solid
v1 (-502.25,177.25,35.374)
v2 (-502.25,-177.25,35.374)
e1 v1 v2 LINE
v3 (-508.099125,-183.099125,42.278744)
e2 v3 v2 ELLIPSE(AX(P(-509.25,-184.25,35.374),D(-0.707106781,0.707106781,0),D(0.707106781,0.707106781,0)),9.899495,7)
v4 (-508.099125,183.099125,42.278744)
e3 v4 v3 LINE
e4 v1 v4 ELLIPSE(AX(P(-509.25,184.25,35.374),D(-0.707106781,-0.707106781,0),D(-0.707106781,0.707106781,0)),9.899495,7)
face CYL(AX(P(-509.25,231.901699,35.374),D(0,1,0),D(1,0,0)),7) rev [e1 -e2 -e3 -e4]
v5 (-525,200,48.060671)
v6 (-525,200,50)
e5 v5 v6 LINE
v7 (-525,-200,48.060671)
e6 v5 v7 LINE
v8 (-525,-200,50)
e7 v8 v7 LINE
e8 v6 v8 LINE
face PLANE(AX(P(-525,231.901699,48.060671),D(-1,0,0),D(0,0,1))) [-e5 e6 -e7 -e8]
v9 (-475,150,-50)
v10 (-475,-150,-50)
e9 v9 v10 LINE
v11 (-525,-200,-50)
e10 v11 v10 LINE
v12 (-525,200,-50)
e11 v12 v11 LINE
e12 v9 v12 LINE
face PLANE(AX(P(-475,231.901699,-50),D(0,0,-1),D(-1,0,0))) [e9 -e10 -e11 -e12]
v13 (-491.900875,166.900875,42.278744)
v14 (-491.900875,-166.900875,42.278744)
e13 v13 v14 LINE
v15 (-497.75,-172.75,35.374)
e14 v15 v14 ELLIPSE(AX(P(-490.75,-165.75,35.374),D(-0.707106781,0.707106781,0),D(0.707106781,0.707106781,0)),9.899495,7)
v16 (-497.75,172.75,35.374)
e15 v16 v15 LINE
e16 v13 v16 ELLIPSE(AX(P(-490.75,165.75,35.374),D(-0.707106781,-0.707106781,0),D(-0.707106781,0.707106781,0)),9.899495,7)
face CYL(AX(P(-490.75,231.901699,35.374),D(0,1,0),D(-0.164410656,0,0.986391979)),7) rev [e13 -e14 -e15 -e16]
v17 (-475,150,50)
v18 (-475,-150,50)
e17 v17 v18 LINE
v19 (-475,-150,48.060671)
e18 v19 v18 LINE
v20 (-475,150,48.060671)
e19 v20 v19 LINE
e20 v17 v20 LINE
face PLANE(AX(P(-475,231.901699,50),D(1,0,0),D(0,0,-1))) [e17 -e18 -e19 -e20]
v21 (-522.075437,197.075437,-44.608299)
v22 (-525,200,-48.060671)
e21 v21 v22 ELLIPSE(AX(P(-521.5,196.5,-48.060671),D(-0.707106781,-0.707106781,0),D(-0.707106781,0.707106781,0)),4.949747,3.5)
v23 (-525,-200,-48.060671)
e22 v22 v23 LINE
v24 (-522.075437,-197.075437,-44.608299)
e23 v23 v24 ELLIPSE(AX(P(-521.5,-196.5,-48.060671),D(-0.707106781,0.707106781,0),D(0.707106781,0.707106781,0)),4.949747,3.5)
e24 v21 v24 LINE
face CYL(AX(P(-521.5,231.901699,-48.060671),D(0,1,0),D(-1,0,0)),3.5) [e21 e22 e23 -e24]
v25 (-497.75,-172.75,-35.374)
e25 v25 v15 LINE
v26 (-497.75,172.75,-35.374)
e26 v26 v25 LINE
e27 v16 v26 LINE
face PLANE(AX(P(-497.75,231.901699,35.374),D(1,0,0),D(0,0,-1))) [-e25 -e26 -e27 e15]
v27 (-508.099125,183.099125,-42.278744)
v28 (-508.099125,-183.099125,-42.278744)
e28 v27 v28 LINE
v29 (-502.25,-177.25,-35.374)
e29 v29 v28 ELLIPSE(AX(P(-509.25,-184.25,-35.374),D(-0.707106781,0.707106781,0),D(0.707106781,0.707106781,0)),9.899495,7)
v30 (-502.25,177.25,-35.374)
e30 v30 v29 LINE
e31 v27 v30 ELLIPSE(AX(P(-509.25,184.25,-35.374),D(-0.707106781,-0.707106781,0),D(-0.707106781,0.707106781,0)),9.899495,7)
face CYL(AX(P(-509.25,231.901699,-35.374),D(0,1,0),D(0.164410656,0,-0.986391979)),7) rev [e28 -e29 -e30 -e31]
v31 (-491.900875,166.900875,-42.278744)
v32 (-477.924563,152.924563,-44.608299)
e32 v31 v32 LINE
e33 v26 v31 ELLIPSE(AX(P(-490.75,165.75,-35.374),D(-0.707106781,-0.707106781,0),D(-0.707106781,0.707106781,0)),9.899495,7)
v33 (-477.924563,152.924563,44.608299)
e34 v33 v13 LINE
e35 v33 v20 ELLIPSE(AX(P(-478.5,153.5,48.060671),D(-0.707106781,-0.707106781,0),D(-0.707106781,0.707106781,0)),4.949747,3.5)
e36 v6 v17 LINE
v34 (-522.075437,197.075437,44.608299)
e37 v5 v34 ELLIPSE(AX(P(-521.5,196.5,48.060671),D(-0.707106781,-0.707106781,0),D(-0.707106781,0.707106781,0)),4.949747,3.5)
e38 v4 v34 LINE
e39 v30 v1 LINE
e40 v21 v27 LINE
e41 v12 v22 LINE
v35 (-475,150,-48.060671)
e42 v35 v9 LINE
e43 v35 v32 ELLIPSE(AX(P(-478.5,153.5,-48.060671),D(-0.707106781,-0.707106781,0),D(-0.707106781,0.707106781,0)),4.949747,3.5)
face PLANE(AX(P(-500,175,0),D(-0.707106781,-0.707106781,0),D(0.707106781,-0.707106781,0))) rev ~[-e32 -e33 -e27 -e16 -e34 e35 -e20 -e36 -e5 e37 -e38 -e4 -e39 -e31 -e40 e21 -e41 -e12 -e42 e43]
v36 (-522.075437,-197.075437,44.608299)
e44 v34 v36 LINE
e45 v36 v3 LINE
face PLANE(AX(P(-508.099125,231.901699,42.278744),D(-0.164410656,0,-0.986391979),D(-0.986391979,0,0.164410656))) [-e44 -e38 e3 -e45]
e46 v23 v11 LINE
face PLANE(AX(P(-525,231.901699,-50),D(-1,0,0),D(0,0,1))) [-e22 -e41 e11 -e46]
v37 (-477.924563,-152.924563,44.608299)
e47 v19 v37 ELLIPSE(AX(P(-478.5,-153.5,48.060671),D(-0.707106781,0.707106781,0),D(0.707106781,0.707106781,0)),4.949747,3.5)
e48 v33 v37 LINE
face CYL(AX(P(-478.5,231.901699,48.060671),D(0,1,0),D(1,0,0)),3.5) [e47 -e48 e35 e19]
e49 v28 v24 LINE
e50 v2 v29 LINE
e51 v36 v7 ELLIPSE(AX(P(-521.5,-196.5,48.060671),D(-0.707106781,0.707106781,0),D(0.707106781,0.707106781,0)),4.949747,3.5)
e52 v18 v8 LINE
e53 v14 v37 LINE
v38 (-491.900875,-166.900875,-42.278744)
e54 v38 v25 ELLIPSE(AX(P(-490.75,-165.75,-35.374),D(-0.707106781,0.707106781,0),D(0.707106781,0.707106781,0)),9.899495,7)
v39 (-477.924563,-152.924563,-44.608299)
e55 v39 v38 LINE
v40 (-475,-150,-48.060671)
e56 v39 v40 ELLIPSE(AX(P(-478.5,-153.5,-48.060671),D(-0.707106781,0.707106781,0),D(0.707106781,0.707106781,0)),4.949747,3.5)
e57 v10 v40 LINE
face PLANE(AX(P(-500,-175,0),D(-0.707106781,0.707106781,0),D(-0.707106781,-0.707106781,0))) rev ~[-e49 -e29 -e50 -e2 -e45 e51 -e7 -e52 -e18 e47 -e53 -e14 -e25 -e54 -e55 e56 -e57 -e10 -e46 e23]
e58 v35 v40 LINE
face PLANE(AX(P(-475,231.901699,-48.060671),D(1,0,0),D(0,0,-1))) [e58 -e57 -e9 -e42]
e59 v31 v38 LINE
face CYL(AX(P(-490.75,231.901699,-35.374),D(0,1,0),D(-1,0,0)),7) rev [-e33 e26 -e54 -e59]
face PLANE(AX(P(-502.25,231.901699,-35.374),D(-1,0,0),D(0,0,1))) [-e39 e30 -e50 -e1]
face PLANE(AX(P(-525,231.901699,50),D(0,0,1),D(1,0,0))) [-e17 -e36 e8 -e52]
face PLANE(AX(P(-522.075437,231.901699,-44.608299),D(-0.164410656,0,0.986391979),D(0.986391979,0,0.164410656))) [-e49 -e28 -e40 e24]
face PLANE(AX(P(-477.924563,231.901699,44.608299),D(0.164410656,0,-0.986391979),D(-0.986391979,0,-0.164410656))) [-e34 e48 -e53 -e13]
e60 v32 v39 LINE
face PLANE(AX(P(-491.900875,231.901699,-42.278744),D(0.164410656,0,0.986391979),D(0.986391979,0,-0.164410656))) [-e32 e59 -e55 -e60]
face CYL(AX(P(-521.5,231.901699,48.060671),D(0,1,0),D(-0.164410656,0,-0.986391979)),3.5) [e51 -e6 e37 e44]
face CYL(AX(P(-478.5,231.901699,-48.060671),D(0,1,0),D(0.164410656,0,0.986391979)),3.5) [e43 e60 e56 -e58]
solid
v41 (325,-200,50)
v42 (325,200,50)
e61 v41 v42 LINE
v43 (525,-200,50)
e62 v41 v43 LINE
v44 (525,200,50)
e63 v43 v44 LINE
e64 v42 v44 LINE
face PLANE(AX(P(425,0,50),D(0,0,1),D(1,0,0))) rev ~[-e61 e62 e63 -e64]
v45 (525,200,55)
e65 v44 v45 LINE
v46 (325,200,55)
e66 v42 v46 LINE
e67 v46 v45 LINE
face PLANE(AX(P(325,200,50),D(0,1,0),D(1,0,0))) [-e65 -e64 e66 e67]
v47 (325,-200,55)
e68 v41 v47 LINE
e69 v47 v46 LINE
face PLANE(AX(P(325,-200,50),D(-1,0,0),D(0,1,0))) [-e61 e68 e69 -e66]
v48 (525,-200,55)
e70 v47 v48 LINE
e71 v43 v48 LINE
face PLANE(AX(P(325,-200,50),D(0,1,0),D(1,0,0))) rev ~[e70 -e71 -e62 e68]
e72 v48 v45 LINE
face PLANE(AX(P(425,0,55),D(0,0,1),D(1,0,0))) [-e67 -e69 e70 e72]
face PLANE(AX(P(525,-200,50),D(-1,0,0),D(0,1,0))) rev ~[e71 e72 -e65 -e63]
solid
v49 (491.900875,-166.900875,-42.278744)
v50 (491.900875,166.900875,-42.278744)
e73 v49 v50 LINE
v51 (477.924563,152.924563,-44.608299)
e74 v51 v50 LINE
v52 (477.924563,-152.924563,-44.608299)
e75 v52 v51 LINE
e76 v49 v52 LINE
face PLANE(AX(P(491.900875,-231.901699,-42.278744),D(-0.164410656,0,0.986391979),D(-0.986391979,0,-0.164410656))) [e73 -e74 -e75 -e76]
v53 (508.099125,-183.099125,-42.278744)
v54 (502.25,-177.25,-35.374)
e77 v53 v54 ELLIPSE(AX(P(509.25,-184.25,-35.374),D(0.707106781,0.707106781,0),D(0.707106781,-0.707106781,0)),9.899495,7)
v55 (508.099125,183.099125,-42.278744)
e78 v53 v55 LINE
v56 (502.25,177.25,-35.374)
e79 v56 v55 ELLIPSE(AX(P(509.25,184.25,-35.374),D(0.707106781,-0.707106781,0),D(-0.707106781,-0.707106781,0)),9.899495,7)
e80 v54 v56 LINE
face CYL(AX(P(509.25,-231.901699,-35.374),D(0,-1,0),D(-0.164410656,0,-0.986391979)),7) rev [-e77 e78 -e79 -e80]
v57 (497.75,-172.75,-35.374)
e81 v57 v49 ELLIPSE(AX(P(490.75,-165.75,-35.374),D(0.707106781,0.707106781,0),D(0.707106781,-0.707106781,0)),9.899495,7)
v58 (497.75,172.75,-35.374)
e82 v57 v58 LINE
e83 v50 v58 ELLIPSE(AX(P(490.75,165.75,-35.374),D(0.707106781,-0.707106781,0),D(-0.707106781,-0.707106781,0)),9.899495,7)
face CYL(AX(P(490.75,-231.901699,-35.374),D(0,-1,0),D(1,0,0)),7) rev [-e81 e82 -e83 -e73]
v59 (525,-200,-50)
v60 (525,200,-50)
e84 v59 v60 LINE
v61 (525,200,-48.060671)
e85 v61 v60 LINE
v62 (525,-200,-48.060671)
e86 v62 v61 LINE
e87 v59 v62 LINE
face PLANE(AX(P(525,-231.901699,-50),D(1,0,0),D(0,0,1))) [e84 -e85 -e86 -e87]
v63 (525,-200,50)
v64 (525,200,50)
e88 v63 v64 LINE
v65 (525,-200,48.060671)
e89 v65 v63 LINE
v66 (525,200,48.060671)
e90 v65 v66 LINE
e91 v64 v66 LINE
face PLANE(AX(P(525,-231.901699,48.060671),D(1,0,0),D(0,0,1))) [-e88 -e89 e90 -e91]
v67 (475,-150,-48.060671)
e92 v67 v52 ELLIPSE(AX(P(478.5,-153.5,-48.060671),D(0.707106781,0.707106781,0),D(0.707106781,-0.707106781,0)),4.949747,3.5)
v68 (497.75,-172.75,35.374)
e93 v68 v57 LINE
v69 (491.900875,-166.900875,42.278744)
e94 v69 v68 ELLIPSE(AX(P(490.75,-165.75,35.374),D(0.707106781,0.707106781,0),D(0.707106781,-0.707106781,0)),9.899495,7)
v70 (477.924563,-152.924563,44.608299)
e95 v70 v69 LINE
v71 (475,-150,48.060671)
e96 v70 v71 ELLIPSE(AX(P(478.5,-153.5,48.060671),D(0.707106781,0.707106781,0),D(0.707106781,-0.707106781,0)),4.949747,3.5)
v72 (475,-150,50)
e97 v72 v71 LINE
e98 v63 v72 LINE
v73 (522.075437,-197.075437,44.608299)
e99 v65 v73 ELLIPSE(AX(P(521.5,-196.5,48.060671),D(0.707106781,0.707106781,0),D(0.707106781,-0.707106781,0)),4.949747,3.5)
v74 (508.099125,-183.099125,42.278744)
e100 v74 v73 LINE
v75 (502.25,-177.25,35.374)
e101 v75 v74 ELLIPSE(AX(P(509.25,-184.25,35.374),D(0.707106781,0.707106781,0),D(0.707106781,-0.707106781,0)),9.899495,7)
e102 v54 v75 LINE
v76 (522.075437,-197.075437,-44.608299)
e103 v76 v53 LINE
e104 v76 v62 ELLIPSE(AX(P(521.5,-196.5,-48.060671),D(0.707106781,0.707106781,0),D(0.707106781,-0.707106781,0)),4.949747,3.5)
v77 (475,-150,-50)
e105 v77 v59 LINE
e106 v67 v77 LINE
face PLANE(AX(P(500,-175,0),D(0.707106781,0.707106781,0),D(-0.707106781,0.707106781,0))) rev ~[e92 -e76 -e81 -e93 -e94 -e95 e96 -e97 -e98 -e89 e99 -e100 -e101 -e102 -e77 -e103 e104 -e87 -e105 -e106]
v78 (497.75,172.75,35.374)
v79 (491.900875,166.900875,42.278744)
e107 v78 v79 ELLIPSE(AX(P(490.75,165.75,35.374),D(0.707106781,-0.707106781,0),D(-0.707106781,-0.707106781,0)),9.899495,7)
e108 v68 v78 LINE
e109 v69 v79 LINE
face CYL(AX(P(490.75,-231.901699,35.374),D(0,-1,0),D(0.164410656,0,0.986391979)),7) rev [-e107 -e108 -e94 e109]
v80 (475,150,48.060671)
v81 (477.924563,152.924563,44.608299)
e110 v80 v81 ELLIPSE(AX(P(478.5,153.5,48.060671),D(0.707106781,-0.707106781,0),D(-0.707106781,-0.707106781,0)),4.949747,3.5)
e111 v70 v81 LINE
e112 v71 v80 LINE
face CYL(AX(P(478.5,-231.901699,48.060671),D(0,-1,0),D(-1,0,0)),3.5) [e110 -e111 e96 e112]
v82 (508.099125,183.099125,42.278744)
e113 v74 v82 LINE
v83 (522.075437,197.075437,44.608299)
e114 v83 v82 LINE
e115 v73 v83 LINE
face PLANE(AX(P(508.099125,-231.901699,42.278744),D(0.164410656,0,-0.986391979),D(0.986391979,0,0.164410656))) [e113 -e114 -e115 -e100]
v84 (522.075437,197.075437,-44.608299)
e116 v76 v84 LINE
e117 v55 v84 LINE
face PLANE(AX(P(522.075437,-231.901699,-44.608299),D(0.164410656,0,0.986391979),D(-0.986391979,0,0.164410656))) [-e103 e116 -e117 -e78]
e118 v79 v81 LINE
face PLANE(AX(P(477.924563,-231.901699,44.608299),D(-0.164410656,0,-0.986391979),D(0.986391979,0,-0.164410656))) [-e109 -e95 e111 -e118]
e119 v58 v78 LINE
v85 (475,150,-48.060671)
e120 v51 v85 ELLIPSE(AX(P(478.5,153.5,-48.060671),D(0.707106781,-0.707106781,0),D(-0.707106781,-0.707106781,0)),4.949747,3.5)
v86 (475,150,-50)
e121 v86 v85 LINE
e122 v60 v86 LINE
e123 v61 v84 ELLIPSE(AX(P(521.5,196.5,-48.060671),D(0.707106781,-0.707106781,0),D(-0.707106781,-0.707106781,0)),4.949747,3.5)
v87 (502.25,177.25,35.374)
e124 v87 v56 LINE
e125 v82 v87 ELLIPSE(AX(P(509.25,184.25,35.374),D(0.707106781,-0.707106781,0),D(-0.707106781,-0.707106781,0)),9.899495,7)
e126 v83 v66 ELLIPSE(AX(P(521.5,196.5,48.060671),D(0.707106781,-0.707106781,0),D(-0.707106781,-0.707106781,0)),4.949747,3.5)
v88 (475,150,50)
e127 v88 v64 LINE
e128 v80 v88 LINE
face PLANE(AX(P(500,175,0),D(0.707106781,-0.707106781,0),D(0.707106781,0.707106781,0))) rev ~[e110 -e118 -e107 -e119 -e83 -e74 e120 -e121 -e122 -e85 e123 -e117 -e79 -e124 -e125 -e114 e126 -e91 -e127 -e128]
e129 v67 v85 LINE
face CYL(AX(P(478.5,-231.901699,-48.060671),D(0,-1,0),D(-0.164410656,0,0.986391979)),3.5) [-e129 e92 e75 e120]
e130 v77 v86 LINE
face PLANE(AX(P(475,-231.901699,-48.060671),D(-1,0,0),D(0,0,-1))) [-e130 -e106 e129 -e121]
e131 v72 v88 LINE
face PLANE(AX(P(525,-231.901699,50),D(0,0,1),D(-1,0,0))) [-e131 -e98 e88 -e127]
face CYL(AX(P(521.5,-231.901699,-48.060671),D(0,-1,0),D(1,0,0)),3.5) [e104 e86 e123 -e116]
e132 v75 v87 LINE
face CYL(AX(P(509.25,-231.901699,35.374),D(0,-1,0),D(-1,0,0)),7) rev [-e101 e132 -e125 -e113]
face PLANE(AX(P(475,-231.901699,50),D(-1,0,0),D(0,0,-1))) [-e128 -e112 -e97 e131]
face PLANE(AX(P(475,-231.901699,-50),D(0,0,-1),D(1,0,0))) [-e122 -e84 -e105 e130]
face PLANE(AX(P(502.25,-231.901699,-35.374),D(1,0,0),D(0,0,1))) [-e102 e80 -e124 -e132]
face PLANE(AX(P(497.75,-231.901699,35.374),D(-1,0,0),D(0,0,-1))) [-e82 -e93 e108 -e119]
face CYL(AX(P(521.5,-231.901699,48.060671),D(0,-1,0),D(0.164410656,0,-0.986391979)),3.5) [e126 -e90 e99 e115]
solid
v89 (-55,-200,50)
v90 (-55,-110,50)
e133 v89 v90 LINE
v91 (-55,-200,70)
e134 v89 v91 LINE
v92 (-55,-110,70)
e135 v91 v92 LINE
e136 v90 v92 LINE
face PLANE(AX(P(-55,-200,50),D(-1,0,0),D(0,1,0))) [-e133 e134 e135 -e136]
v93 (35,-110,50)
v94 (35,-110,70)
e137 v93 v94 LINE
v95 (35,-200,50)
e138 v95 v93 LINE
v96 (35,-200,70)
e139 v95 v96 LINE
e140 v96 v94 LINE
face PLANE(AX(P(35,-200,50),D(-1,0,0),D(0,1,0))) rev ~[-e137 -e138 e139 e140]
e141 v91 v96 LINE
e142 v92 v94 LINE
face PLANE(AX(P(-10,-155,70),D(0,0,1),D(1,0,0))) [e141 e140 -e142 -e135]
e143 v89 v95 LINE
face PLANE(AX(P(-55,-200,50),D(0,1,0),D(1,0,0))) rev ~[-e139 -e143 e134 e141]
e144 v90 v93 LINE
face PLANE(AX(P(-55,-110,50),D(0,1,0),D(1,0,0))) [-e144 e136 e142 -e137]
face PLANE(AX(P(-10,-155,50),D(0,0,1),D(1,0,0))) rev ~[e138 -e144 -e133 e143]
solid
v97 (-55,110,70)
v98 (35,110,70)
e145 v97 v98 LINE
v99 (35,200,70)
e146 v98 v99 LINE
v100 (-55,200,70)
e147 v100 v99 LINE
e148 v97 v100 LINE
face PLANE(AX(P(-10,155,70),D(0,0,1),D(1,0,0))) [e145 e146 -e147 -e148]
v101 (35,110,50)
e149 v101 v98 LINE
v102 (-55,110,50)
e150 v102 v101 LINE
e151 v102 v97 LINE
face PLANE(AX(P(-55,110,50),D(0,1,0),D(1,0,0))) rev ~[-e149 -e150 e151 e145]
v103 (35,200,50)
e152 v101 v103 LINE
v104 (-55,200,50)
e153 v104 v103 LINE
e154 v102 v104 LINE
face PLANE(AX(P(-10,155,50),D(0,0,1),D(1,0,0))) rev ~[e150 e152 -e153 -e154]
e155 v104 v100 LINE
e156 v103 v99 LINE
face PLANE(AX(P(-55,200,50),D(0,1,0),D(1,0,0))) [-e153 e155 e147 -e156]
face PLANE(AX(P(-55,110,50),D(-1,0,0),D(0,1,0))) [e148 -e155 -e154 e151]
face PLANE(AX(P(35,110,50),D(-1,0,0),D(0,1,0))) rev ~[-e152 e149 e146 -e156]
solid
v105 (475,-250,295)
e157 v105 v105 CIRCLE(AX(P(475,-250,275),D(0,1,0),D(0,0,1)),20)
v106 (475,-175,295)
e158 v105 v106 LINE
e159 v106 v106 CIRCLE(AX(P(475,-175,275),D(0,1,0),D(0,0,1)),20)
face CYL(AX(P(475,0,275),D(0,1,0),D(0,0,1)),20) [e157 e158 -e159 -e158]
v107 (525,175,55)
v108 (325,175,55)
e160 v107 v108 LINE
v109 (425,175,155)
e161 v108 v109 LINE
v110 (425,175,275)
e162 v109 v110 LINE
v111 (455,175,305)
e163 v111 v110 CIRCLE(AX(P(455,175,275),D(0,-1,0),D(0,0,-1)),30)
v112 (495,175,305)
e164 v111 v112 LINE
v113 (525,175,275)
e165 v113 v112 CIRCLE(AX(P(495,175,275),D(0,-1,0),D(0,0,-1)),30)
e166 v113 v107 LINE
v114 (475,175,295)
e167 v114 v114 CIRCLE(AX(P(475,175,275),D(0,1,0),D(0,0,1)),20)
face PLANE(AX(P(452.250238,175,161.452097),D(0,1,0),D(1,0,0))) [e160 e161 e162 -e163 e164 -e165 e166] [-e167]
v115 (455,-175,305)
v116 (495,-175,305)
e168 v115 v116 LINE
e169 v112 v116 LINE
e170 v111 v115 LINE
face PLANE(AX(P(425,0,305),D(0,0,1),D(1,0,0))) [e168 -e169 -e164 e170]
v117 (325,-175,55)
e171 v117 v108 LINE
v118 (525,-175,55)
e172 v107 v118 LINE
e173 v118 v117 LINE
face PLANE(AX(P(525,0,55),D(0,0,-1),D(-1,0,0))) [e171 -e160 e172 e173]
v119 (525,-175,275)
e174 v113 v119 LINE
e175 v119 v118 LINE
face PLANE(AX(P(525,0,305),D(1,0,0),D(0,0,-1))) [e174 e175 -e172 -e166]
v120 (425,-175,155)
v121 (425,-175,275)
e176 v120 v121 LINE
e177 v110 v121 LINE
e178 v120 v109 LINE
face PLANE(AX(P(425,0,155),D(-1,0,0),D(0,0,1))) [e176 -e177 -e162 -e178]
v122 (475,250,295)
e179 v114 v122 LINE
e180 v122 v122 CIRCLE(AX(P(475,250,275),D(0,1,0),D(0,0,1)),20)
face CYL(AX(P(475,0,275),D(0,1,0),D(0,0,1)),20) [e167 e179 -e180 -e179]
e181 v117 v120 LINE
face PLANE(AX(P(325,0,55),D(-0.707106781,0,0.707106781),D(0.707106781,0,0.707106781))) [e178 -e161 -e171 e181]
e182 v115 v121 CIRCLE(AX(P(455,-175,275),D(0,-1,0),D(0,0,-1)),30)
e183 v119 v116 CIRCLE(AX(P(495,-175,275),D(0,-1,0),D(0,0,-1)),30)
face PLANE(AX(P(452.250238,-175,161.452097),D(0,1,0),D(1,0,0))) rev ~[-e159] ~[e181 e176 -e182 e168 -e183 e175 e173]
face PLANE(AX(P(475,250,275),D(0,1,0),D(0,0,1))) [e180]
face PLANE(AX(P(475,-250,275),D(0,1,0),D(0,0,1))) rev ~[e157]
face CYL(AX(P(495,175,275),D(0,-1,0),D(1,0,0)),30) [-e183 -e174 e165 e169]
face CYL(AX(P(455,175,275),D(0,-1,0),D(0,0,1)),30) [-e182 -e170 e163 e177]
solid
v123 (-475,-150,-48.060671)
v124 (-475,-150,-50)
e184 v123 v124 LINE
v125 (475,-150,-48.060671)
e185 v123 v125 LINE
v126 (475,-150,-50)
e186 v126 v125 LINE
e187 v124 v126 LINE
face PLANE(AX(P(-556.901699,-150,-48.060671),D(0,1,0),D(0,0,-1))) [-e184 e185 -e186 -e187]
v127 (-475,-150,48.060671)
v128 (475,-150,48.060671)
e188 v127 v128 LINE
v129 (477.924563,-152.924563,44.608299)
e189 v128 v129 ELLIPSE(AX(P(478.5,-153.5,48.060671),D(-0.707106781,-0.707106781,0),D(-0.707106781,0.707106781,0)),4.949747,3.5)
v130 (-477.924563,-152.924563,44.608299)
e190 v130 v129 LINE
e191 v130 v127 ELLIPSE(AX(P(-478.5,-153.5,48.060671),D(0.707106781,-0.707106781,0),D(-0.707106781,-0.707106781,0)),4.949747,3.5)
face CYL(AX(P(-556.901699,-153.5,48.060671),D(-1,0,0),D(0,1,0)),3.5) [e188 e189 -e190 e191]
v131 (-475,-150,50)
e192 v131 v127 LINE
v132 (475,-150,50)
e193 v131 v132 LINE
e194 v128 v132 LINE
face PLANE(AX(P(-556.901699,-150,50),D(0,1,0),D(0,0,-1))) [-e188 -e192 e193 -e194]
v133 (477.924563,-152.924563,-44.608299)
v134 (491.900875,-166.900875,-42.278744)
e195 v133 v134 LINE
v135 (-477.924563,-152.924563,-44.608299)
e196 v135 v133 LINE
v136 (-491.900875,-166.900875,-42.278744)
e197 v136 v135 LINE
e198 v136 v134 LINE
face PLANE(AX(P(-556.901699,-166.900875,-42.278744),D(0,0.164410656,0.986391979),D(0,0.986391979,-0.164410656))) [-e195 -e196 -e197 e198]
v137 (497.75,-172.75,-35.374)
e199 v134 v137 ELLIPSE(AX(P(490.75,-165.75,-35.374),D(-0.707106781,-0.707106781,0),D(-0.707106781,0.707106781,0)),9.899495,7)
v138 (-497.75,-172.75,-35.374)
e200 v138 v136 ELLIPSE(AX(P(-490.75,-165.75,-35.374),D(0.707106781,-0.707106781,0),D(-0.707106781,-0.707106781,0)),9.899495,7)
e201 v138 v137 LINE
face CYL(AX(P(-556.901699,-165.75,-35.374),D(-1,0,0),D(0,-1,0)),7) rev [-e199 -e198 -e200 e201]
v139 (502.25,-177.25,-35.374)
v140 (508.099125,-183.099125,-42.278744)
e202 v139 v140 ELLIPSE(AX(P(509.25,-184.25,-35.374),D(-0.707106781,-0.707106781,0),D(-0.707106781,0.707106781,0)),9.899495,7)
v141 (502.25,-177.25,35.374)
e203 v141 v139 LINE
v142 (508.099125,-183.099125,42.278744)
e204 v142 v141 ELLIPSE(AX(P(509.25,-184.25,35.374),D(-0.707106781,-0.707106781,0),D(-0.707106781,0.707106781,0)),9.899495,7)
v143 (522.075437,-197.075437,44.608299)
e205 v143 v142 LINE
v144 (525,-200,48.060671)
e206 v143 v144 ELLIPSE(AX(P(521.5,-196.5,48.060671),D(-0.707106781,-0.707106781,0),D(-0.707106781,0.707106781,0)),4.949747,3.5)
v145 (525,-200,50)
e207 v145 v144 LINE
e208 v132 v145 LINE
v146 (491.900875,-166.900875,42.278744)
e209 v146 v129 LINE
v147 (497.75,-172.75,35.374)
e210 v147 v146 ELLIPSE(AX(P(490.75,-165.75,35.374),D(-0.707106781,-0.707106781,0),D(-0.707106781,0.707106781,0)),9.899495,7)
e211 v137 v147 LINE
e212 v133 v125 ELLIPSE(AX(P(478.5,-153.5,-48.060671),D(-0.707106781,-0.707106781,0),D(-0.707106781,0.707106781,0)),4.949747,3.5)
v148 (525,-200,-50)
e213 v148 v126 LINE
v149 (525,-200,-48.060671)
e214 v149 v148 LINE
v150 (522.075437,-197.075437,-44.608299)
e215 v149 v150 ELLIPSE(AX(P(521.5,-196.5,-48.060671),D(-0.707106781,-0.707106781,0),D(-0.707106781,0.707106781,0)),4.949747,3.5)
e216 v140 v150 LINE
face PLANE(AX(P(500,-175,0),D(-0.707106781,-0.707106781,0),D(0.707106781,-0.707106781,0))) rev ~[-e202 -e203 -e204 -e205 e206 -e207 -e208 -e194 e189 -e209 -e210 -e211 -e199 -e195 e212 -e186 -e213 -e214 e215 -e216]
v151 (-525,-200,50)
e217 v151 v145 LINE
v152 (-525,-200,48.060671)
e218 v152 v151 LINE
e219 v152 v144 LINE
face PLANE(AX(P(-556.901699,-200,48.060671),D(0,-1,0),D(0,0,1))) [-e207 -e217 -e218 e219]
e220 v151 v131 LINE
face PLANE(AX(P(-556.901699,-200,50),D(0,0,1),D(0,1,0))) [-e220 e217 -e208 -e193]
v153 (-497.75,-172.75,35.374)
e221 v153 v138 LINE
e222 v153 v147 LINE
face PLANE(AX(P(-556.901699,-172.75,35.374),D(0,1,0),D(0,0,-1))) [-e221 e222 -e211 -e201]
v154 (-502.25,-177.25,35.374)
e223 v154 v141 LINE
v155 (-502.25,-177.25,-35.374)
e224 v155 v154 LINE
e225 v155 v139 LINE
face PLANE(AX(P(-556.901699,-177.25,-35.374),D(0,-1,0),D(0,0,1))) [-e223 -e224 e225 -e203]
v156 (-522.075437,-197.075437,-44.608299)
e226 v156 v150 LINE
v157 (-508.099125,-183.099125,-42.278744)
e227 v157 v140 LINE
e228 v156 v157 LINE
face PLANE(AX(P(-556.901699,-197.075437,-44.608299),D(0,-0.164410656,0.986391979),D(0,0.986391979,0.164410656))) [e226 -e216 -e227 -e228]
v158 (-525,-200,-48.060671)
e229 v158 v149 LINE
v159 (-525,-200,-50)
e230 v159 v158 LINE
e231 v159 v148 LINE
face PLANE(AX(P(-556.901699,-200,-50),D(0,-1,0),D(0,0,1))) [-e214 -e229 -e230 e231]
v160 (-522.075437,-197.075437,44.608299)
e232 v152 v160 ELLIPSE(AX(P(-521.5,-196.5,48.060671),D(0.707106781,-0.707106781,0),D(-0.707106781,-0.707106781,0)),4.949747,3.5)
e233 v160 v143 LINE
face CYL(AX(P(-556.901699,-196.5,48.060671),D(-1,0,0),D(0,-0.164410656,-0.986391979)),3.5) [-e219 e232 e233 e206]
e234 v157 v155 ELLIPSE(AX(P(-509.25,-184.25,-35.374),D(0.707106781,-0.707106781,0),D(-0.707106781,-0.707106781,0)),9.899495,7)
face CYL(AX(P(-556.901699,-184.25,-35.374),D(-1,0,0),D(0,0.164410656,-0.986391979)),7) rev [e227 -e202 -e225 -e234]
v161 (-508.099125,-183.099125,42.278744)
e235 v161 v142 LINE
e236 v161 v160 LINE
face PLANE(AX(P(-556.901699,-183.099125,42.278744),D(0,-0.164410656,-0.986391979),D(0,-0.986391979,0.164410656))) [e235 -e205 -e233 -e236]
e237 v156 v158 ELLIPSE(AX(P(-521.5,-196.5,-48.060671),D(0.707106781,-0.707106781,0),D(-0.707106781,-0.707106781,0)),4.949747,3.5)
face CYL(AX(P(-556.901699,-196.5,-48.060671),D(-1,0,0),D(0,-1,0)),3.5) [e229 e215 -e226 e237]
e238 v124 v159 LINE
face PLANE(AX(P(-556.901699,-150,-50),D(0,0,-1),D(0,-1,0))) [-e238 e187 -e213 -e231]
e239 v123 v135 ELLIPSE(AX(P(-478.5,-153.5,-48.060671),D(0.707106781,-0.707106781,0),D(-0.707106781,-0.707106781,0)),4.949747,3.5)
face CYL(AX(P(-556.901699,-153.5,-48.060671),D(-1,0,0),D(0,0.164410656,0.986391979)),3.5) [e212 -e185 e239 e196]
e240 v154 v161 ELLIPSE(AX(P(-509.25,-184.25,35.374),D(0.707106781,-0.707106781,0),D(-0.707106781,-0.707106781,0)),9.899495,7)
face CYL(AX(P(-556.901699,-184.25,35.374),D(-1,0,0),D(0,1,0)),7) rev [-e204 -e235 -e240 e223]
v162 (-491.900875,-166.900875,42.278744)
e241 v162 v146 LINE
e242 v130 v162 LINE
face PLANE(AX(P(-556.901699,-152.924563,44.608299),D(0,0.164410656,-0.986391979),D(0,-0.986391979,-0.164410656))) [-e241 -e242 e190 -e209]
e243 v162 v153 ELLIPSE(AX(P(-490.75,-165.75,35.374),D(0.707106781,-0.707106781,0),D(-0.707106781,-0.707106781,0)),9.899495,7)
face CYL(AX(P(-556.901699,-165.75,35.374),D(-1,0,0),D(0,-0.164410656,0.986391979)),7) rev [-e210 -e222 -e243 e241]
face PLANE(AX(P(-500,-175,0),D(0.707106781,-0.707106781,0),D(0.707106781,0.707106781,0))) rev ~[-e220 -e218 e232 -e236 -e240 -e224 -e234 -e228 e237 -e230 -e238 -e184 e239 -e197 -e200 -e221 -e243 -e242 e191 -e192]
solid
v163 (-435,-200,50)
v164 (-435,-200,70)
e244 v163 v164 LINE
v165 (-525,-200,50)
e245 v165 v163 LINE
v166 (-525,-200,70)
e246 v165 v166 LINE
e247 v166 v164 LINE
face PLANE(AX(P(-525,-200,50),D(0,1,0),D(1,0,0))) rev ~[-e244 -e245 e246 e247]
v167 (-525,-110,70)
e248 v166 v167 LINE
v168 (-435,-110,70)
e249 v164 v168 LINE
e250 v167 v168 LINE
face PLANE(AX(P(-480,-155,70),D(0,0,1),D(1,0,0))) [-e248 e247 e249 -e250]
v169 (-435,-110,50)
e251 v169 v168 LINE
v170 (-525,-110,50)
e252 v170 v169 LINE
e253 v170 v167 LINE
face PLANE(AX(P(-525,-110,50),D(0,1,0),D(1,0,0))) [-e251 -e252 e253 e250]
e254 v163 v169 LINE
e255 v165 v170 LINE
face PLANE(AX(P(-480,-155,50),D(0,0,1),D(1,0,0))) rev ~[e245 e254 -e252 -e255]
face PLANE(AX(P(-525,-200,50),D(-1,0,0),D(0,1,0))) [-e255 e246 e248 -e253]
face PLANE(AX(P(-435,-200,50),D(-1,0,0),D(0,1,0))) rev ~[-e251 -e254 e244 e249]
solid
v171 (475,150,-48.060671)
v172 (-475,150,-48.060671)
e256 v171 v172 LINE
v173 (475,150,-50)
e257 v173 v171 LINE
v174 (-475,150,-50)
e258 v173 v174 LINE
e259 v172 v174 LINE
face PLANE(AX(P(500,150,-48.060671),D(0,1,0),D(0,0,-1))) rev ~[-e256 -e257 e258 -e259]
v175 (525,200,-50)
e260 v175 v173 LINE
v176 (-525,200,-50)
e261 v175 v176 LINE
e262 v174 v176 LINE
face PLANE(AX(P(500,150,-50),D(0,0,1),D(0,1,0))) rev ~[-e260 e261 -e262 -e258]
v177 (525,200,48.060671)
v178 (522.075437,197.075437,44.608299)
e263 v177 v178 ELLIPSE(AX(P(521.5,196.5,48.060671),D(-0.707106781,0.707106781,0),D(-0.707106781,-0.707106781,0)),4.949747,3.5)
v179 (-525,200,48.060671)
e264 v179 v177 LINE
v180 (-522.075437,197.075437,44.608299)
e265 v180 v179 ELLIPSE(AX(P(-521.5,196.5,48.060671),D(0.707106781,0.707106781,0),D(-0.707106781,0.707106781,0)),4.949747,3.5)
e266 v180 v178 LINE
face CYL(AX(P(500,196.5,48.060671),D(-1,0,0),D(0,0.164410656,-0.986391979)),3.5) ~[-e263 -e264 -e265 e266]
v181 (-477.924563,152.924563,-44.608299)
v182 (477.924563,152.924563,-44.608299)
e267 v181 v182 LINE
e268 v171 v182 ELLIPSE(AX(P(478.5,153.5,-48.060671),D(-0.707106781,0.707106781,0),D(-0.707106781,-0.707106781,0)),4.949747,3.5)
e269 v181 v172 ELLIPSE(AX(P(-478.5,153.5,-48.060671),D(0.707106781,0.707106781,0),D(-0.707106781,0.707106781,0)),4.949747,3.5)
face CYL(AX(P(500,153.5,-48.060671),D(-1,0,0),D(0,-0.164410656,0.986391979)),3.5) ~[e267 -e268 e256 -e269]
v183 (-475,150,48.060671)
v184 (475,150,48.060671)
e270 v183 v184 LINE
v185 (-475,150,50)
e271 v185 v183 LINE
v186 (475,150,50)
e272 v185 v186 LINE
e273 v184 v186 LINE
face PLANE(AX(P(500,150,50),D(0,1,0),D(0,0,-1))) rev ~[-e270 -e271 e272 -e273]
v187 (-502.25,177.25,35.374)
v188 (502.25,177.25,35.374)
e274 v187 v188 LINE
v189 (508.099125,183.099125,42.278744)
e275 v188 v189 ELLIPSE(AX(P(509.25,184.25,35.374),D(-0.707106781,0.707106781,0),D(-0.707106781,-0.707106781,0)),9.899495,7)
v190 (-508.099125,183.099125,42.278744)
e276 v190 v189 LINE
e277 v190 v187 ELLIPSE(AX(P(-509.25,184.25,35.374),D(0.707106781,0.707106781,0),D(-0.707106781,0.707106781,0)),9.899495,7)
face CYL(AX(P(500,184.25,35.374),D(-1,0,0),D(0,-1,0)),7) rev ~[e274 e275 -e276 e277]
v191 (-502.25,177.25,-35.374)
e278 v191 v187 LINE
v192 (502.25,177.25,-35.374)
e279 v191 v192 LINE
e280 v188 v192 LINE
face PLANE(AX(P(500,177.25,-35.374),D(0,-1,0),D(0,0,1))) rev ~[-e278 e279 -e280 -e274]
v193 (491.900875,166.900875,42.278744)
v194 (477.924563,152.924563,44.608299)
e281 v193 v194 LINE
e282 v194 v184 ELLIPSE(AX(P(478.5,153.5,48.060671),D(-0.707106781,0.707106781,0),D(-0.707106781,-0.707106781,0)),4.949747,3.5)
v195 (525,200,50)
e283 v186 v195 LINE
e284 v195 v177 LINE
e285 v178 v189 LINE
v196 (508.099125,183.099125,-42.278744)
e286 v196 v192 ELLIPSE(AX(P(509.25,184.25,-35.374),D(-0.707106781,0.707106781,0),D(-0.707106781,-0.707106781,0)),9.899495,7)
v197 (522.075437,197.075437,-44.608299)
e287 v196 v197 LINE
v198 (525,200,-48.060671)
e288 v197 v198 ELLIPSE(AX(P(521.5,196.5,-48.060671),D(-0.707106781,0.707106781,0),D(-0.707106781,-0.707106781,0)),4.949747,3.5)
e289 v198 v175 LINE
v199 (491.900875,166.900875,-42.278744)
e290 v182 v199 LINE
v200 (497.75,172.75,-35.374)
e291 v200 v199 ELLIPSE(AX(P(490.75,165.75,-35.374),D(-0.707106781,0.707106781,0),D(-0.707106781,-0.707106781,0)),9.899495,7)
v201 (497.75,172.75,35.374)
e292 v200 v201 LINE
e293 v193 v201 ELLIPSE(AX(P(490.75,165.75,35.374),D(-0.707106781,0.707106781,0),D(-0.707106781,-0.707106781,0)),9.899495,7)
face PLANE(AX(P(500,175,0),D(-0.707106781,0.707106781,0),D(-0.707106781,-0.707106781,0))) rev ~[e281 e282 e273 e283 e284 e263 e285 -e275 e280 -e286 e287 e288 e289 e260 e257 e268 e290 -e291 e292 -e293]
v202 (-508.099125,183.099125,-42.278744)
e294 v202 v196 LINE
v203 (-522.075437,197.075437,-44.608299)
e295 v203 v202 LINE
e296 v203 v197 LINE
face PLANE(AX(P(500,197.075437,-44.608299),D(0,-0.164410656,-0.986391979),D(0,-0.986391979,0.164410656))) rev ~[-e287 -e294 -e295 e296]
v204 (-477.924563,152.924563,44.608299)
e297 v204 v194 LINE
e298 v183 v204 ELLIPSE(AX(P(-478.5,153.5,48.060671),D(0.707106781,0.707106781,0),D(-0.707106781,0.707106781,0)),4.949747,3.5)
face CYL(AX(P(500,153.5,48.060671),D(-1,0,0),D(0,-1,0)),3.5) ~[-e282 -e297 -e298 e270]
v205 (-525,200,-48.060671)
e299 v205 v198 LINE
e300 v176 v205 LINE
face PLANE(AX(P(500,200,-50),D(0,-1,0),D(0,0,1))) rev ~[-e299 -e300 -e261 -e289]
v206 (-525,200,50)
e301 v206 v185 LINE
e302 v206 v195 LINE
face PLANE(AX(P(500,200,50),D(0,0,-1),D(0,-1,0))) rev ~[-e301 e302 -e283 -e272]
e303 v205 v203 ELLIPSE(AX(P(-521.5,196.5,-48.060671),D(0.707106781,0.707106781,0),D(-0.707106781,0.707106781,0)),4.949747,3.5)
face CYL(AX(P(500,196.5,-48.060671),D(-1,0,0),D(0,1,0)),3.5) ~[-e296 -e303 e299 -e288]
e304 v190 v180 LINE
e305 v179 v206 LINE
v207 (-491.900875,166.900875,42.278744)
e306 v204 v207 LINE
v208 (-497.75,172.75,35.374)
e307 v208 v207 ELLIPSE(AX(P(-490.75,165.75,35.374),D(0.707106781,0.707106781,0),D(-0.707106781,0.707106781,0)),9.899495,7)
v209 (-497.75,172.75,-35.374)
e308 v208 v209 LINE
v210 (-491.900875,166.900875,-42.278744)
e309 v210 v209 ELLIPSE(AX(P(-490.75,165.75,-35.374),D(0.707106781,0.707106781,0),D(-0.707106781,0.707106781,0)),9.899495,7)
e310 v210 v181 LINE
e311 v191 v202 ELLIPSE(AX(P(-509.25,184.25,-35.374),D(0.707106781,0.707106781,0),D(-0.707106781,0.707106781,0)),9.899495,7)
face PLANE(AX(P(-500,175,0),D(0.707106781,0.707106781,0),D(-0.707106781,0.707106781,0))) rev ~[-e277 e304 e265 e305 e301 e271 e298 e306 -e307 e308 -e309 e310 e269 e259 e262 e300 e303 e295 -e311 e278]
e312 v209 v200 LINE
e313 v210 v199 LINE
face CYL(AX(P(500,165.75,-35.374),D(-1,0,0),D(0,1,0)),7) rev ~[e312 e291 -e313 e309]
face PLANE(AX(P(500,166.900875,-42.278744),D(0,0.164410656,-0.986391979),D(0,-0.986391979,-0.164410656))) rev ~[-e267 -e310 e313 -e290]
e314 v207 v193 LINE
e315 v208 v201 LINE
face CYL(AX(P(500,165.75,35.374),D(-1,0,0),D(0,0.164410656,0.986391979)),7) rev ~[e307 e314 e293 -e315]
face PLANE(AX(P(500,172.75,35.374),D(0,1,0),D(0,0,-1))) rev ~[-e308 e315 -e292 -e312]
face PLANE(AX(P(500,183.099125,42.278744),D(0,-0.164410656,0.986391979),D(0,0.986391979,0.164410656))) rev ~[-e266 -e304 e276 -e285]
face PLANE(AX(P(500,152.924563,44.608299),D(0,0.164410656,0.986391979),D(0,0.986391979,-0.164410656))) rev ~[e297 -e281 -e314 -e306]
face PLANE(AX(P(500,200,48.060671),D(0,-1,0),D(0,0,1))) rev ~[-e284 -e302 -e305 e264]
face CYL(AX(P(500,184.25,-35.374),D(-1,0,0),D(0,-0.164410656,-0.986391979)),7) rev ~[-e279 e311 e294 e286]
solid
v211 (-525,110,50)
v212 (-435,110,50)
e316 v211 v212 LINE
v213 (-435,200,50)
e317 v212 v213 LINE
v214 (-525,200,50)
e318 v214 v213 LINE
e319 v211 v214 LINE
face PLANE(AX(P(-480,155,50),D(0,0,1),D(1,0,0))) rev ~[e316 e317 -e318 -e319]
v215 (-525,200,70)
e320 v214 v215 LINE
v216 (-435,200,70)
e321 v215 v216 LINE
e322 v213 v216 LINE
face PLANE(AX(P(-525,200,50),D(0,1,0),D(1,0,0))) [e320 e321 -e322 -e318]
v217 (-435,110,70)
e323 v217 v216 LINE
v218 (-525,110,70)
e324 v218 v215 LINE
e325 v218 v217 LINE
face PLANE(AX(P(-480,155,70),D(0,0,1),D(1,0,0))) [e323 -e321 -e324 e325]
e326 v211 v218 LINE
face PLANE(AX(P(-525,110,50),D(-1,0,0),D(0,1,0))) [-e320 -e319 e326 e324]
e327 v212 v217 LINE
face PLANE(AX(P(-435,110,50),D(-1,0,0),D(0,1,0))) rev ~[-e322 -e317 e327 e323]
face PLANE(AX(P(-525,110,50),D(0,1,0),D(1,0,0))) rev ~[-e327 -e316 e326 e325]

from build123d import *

# Parameters (mm, degrees)
SB_BEAM_CONFIGURED_100_X_8_1_DEPTH      = 1056.901699437
SB_BEAM_CONFIGURED_100_X_8_1_DEPTH_BACK = 56.901699437
SB_BEAM_CONFIGURED_100_X_8_1_2_DEPTH    = 463.803398875
SB_BEAM_CONFIGURED_100_X_8_1_3_DEPTH    = 1113.803398875
SB_BEAM_CONFIGURED_100_X_8_1_4_DEPTH    = 463.803398875
SKETCH17_W                              = 90
SKETCH17_H                              = 90
BOSS_EXTRUDE1_DEPTH                     = 20
BOSS_EXTRUDE1_2_DEPTH                   = 20
BOSS_EXTRUDE1_3_DEPTH                   = 20
BOSS_EXTRUDE1_4_DEPTH                   = 20
SKETCH18_W                              = 200
SKETCH18_H                              = 400
BOSS_EXTRUDE2_DEPTH                     = 5
BOSS_EXTRUDE3_DEPTH                     = 175
SKETCH21_R                              = 20
BOSS_EXTRUDE4_DEPTH                     = 250
FILLET1_R                               = 30


with BuildPart() as part:
    # Sketch16 → Sb beam - configured 100 X 8(1) (new, two sides)
    with BuildSketch(Plane(origin=(500, 175, 0), x_dir=(0, -1, 0), z_dir=(-1, 0, 0))) as sb_beam_configured_100_x_8_1_sk:
        with BuildLine():
            Line((-25, -50), (-25, -48.060671023))
            ThreePointArc((-25, -48.060671023), (-24.17058332, -45.798374682), (-22.075437296, -44.608299096))
            Line((-22.075437296, -44.608299096), (-8.099125408, -42.278743853))
            ThreePointArc((-8.099125408, -42.278743853), (-3.90883336, -39.898592681), (-2.25, -35.374))
            Line((-2.25, -35.374), (-2.25, 35.374))
            ThreePointArc((-2.25, 35.374), (-3.90883336, 39.898592681), (-8.099125408, 42.278743853))
            Line((-8.099125408, 42.278743853), (-22.075437296, 44.608299096))
            ThreePointArc((-22.075437296, 44.608299096), (-24.17058332, 45.798374682), (-25, 48.060671023))
            Line((-25, 48.060671023), (-25, 50))
            Line((-25, 50), (25, 50))
            Line((25, 50), (25, 48.060671023))
            ThreePointArc((25, 48.060671023), (24.17058332, 45.798374682), (22.075437296, 44.608299096))
            Line((22.075437296, 44.608299096), (8.099125408, 42.278743853))
            ThreePointArc((8.099125408, 42.278743853), (3.90883336, 39.898592681), (2.25, 35.374))
            Line((2.25, 35.374), (2.25, -35.374))
            ThreePointArc((2.25, -35.374), (3.90883336, -39.898592681), (8.099125408, -42.278743853))
            Line((8.099125408, -42.278743853), (22.075437296, -44.608299096))
            ThreePointArc((22.075437296, -44.608299096), (24.17058332, -45.798374682), (25, -48.060671023))
            Line((25, -48.060671023), (25, -50))
            Line((25, -50), (-25, -50))
        make_face()
    extrude(amount=SB_BEAM_CONFIGURED_100_X_8_1_DEPTH)
    extrude(sb_beam_configured_100_x_8_1_sk.sketch, amount=-SB_BEAM_CONFIGURED_100_X_8_1_DEPTH_BACK)

    # Sb beam - configured 100 X 8(1) mitre 1
    split(bisect_by=Plane(origin=(500, 175, 0), x_dir=(-0.707106781, -0.707106781, 0), z_dir=(-0.707106781, 0.707106781, 0)), keep=Keep.TOP)

    # Sb beam - configured 100 X 8(1) mitre 2
    split(bisect_by=Plane(origin=(-500, 175, 0), x_dir=(-0.707106781, 0.707106781, 0), z_dir=(0.707106781, 0.707106781, 0)), keep=Keep.TOP)


with BuildPart() as body_2:
    # Sketch16 on segment 2 (carried to segment 2) → Sb beam - configured 100 X 8_1 2 (new body)
    with BuildSketch(Plane(origin=(-500, 231.901699437, 0), x_dir=(1, 0, 0), z_dir=(0, -1, 0))):
        with BuildLine():
            Line((-25, -50), (-25, -48.060671023))
            ThreePointArc((-25, -48.060671023), (-24.17058332, -45.798374682), (-22.075437296, -44.608299096))
            Line((-22.075437296, -44.608299096), (-8.099125408, -42.278743853))
            ThreePointArc((-8.099125408, -42.278743853), (-3.90883336, -39.898592681), (-2.25, -35.374))
            Line((-2.25, -35.374), (-2.25, 35.374))
            ThreePointArc((-2.25, 35.374), (-3.90883336, 39.898592681), (-8.099125408, 42.278743853))
            Line((-8.099125408, 42.278743853), (-22.075437296, 44.608299096))
            ThreePointArc((-22.075437296, 44.608299096), (-24.17058332, 45.798374682), (-25, 48.060671023))
            Line((-25, 48.060671023), (-25, 50))
            Line((-25, 50), (25, 50))
            Line((25, 50), (25, 48.060671023))
            ThreePointArc((25, 48.060671023), (24.17058332, 45.798374682), (22.075437296, 44.608299096))
            Line((22.075437296, 44.608299096), (8.099125408, 42.278743853))
            ThreePointArc((8.099125408, 42.278743853), (3.90883336, 39.898592681), (2.25, 35.374))
            Line((2.25, 35.374), (2.25, -35.374))
            ThreePointArc((2.25, -35.374), (3.90883336, -39.898592681), (8.099125408, -42.278743853))
            Line((8.099125408, -42.278743853), (22.075437296, -44.608299096))
            ThreePointArc((22.075437296, -44.608299096), (24.17058332, -45.798374682), (25, -48.060671023))
            Line((25, -48.060671023), (25, -50))
            Line((25, -50), (-25, -50))
        make_face()
    extrude(amount=SB_BEAM_CONFIGURED_100_X_8_1_2_DEPTH)

    # Sb beam - configured 100 X 8_1 2 mitre 1
    split(bisect_by=Plane(origin=(-500, 175, 0), x_dir=(0.707106781, -0.707106781, 0), z_dir=(-0.707106781, -0.707106781, 0)), keep=Keep.TOP)

    # Sb beam - configured 100 X 8_1 2 mitre 2
    split(bisect_by=Plane(origin=(-500, -175, 0), x_dir=(-0.707106781, -0.707106781, 0), z_dir=(-0.707106781, 0.707106781, 0)), keep=Keep.TOP)


with BuildPart() as body_3:
    # Sketch16 on segment 3 (carried to segment 3) → Sb beam - configured 100 X 8_1 3 (new body)
    with BuildSketch(Plane(origin=(-556.901699437, -175, 0), x_dir=(0, 1, 0), z_dir=(1, 0, 0))):
        with BuildLine():
            Line((-25, -50), (-25, -48.060671023))
            ThreePointArc((-25, -48.060671023), (-24.17058332, -45.798374682), (-22.075437296, -44.608299096))
            Line((-22.075437296, -44.608299096), (-8.099125408, -42.278743853))
            ThreePointArc((-8.099125408, -42.278743853), (-3.90883336, -39.898592681), (-2.25, -35.374))
            Line((-2.25, -35.374), (-2.25, 35.374))
            ThreePointArc((-2.25, 35.374), (-3.90883336, 39.898592681), (-8.099125408, 42.278743853))
            Line((-8.099125408, 42.278743853), (-22.075437296, 44.608299096))
            ThreePointArc((-22.075437296, 44.608299096), (-24.17058332, 45.798374682), (-25, 48.060671023))
            Line((-25, 48.060671023), (-25, 50))
            Line((-25, 50), (25, 50))
            Line((25, 50), (25, 48.060671023))
            ThreePointArc((25, 48.060671023), (24.17058332, 45.798374682), (22.075437296, 44.608299096))
            Line((22.075437296, 44.608299096), (8.099125408, 42.278743853))
            ThreePointArc((8.099125408, 42.278743853), (3.90883336, 39.898592681), (2.25, 35.374))
            Line((2.25, 35.374), (2.25, -35.374))
            ThreePointArc((2.25, -35.374), (3.90883336, -39.898592681), (8.099125408, -42.278743853))
            Line((8.099125408, -42.278743853), (22.075437296, -44.608299096))
            ThreePointArc((22.075437296, -44.608299096), (24.17058332, -45.798374682), (25, -48.060671023))
            Line((25, -48.060671023), (25, -50))
            Line((25, -50), (-25, -50))
        make_face()
    extrude(amount=SB_BEAM_CONFIGURED_100_X_8_1_3_DEPTH)

    # Sb beam - configured 100 X 8_1 3 mitre 1
    split(bisect_by=Plane(origin=(500, -175, 0), x_dir=(0.707106781, -0.707106781, 0), z_dir=(-0.707106781, -0.707106781, 0)), keep=Keep.TOP)

    # Sb beam - configured 100 X 8_1 3 mitre 2
    split(bisect_by=Plane(origin=(-500, -175, 0), x_dir=(0.707106781, 0.707106781, 0), z_dir=(0.707106781, -0.707106781, 0)), keep=Keep.TOP)


with BuildPart() as body_4:
    # Sketch16 on segment 4 (carried to segment 4) → Sb beam - configured 100 X 8_1 4 (new body)
    with BuildSketch(Plane(origin=(500, -231.901699437, 0), x_dir=(-1, 0, 0), z_dir=(0, 1, 0))):
        with BuildLine():
            Line((-25, -50), (-25, -48.060671023))
            ThreePointArc((-25, -48.060671023), (-24.17058332, -45.798374682), (-22.075437296, -44.608299096))
            Line((-22.075437296, -44.608299096), (-8.099125408, -42.278743853))
            ThreePointArc((-8.099125408, -42.278743853), (-3.90883336, -39.898592681), (-2.25, -35.374))
            Line((-2.25, -35.374), (-2.25, 35.374))
            ThreePointArc((-2.25, 35.374), (-3.90883336, 39.898592681), (-8.099125408, 42.278743853))
            Line((-8.099125408, 42.278743853), (-22.075437296, 44.608299096))
            ThreePointArc((-22.075437296, 44.608299096), (-24.17058332, 45.798374682), (-25, 48.060671023))
            Line((-25, 48.060671023), (-25, 50))
            Line((-25, 50), (25, 50))
            Line((25, 50), (25, 48.060671023))
            ThreePointArc((25, 48.060671023), (24.17058332, 45.798374682), (22.075437296, 44.608299096))
            Line((22.075437296, 44.608299096), (8.099125408, 42.278743853))
            ThreePointArc((8.099125408, 42.278743853), (3.90883336, 39.898592681), (2.25, 35.374))
            Line((2.25, 35.374), (2.25, -35.374))
            ThreePointArc((2.25, -35.374), (3.90883336, -39.898592681), (8.099125408, -42.278743853))
            Line((8.099125408, -42.278743853), (22.075437296, -44.608299096))
            ThreePointArc((22.075437296, -44.608299096), (24.17058332, -45.798374682), (25, -48.060671023))
            Line((25, -48.060671023), (25, -50))
            Line((25, -50), (-25, -50))
        make_face()
    extrude(amount=SB_BEAM_CONFIGURED_100_X_8_1_4_DEPTH)

    # Sb beam - configured 100 X 8_1 4 mitre 1
    split(bisect_by=Plane(origin=(500, 175, 0), x_dir=(0.707106781, 0.707106781, 0), z_dir=(0.707106781, -0.707106781, 0)), keep=Keep.TOP)

    # Sb beam - configured 100 X 8_1 4 mitre 2
    split(bisect_by=Plane(origin=(500, -175, 0), x_dir=(-0.707106781, 0.707106781, 0), z_dir=(0.707106781, 0.707106781, 0)), keep=Keep.TOP)


with BuildPart() as body_5:
    # Sketch17 → Boss-Extrude1 (new body)
    with BuildSketch(Plane.XY.offset(50)):
        with Locations((-480, 155)):
            Rectangle(SKETCH17_W, SKETCH17_H)
    extrude(amount=BOSS_EXTRUDE1_DEPTH)


with BuildPart() as body_6:
    # Sketch17 → Boss-Extrude1 2 (new body)
    with BuildSketch(Plane.XY.offset(50)):
        with Locations((-480, -155)):
            Rectangle(SKETCH17_W, SKETCH17_H)
    extrude(amount=BOSS_EXTRUDE1_2_DEPTH)


with BuildPart() as body_7:
    # Sketch17 → Boss-Extrude1 3 (new body)
    with BuildSketch(Plane.XY.offset(50)):
        with Locations((-10, 155)):
            Rectangle(SKETCH17_W, SKETCH17_H)
    extrude(amount=BOSS_EXTRUDE1_3_DEPTH)


with BuildPart() as body_8:
    # Sketch17 → Boss-Extrude1 4 (new body)
    with BuildSketch(Plane.XY.offset(50)):
        with Locations((-10, -155)):
            Rectangle(SKETCH17_W, SKETCH17_H)
    extrude(amount=BOSS_EXTRUDE1_4_DEPTH)


with BuildPart() as body_9:
    # Sketch18 → Boss-Extrude2 (new body)
    with BuildSketch(Plane.XY.offset(50)):
        with Locations((425, 0)):
            Rectangle(SKETCH18_W, SKETCH18_H)
    extrude(amount=BOSS_EXTRUDE2_DEPTH)


with BuildPart() as body_10:
    # Sketch20 → Boss-Extrude3 (new, symmetric)
    with BuildSketch(Plane(origin=(0, 0, 0), x_dir=(1, 0, 0), z_dir=(0, 1, 0))):
        Polygon((525, -55), (325, -55), (425, -155), (425, -305), (525, -305), align=None)
    extrude(amount=BOSS_EXTRUDE3_DEPTH, both=True)

    # Sketch21 → Boss-Extrude4 (add, symmetric)
    with BuildSketch(Plane(origin=(0, 0, 0), x_dir=(1, 0, 0), z_dir=(0, 1, 0))):
        with Locations(Location((475, -275, 0), (0, 0, 270))):
            Circle(SKETCH21_R)
    extrude(amount=BOSS_EXTRUDE4_DEPTH, both=True)

    # Fillet1
    fillet1_edges = [body_10.edges().sort_by_distance(p)[0] for p in [
        (525, 0, 305),
        (425, 0, 305),
    ]]
    fillet(fillet1_edges, radius=FILLET1_R)


solid = Compound([part.part, body_2.part, body_3.part, body_4.part, body_5.part, body_6.part, body_7.part, body_8.part, body_9.part, body_10.part])
